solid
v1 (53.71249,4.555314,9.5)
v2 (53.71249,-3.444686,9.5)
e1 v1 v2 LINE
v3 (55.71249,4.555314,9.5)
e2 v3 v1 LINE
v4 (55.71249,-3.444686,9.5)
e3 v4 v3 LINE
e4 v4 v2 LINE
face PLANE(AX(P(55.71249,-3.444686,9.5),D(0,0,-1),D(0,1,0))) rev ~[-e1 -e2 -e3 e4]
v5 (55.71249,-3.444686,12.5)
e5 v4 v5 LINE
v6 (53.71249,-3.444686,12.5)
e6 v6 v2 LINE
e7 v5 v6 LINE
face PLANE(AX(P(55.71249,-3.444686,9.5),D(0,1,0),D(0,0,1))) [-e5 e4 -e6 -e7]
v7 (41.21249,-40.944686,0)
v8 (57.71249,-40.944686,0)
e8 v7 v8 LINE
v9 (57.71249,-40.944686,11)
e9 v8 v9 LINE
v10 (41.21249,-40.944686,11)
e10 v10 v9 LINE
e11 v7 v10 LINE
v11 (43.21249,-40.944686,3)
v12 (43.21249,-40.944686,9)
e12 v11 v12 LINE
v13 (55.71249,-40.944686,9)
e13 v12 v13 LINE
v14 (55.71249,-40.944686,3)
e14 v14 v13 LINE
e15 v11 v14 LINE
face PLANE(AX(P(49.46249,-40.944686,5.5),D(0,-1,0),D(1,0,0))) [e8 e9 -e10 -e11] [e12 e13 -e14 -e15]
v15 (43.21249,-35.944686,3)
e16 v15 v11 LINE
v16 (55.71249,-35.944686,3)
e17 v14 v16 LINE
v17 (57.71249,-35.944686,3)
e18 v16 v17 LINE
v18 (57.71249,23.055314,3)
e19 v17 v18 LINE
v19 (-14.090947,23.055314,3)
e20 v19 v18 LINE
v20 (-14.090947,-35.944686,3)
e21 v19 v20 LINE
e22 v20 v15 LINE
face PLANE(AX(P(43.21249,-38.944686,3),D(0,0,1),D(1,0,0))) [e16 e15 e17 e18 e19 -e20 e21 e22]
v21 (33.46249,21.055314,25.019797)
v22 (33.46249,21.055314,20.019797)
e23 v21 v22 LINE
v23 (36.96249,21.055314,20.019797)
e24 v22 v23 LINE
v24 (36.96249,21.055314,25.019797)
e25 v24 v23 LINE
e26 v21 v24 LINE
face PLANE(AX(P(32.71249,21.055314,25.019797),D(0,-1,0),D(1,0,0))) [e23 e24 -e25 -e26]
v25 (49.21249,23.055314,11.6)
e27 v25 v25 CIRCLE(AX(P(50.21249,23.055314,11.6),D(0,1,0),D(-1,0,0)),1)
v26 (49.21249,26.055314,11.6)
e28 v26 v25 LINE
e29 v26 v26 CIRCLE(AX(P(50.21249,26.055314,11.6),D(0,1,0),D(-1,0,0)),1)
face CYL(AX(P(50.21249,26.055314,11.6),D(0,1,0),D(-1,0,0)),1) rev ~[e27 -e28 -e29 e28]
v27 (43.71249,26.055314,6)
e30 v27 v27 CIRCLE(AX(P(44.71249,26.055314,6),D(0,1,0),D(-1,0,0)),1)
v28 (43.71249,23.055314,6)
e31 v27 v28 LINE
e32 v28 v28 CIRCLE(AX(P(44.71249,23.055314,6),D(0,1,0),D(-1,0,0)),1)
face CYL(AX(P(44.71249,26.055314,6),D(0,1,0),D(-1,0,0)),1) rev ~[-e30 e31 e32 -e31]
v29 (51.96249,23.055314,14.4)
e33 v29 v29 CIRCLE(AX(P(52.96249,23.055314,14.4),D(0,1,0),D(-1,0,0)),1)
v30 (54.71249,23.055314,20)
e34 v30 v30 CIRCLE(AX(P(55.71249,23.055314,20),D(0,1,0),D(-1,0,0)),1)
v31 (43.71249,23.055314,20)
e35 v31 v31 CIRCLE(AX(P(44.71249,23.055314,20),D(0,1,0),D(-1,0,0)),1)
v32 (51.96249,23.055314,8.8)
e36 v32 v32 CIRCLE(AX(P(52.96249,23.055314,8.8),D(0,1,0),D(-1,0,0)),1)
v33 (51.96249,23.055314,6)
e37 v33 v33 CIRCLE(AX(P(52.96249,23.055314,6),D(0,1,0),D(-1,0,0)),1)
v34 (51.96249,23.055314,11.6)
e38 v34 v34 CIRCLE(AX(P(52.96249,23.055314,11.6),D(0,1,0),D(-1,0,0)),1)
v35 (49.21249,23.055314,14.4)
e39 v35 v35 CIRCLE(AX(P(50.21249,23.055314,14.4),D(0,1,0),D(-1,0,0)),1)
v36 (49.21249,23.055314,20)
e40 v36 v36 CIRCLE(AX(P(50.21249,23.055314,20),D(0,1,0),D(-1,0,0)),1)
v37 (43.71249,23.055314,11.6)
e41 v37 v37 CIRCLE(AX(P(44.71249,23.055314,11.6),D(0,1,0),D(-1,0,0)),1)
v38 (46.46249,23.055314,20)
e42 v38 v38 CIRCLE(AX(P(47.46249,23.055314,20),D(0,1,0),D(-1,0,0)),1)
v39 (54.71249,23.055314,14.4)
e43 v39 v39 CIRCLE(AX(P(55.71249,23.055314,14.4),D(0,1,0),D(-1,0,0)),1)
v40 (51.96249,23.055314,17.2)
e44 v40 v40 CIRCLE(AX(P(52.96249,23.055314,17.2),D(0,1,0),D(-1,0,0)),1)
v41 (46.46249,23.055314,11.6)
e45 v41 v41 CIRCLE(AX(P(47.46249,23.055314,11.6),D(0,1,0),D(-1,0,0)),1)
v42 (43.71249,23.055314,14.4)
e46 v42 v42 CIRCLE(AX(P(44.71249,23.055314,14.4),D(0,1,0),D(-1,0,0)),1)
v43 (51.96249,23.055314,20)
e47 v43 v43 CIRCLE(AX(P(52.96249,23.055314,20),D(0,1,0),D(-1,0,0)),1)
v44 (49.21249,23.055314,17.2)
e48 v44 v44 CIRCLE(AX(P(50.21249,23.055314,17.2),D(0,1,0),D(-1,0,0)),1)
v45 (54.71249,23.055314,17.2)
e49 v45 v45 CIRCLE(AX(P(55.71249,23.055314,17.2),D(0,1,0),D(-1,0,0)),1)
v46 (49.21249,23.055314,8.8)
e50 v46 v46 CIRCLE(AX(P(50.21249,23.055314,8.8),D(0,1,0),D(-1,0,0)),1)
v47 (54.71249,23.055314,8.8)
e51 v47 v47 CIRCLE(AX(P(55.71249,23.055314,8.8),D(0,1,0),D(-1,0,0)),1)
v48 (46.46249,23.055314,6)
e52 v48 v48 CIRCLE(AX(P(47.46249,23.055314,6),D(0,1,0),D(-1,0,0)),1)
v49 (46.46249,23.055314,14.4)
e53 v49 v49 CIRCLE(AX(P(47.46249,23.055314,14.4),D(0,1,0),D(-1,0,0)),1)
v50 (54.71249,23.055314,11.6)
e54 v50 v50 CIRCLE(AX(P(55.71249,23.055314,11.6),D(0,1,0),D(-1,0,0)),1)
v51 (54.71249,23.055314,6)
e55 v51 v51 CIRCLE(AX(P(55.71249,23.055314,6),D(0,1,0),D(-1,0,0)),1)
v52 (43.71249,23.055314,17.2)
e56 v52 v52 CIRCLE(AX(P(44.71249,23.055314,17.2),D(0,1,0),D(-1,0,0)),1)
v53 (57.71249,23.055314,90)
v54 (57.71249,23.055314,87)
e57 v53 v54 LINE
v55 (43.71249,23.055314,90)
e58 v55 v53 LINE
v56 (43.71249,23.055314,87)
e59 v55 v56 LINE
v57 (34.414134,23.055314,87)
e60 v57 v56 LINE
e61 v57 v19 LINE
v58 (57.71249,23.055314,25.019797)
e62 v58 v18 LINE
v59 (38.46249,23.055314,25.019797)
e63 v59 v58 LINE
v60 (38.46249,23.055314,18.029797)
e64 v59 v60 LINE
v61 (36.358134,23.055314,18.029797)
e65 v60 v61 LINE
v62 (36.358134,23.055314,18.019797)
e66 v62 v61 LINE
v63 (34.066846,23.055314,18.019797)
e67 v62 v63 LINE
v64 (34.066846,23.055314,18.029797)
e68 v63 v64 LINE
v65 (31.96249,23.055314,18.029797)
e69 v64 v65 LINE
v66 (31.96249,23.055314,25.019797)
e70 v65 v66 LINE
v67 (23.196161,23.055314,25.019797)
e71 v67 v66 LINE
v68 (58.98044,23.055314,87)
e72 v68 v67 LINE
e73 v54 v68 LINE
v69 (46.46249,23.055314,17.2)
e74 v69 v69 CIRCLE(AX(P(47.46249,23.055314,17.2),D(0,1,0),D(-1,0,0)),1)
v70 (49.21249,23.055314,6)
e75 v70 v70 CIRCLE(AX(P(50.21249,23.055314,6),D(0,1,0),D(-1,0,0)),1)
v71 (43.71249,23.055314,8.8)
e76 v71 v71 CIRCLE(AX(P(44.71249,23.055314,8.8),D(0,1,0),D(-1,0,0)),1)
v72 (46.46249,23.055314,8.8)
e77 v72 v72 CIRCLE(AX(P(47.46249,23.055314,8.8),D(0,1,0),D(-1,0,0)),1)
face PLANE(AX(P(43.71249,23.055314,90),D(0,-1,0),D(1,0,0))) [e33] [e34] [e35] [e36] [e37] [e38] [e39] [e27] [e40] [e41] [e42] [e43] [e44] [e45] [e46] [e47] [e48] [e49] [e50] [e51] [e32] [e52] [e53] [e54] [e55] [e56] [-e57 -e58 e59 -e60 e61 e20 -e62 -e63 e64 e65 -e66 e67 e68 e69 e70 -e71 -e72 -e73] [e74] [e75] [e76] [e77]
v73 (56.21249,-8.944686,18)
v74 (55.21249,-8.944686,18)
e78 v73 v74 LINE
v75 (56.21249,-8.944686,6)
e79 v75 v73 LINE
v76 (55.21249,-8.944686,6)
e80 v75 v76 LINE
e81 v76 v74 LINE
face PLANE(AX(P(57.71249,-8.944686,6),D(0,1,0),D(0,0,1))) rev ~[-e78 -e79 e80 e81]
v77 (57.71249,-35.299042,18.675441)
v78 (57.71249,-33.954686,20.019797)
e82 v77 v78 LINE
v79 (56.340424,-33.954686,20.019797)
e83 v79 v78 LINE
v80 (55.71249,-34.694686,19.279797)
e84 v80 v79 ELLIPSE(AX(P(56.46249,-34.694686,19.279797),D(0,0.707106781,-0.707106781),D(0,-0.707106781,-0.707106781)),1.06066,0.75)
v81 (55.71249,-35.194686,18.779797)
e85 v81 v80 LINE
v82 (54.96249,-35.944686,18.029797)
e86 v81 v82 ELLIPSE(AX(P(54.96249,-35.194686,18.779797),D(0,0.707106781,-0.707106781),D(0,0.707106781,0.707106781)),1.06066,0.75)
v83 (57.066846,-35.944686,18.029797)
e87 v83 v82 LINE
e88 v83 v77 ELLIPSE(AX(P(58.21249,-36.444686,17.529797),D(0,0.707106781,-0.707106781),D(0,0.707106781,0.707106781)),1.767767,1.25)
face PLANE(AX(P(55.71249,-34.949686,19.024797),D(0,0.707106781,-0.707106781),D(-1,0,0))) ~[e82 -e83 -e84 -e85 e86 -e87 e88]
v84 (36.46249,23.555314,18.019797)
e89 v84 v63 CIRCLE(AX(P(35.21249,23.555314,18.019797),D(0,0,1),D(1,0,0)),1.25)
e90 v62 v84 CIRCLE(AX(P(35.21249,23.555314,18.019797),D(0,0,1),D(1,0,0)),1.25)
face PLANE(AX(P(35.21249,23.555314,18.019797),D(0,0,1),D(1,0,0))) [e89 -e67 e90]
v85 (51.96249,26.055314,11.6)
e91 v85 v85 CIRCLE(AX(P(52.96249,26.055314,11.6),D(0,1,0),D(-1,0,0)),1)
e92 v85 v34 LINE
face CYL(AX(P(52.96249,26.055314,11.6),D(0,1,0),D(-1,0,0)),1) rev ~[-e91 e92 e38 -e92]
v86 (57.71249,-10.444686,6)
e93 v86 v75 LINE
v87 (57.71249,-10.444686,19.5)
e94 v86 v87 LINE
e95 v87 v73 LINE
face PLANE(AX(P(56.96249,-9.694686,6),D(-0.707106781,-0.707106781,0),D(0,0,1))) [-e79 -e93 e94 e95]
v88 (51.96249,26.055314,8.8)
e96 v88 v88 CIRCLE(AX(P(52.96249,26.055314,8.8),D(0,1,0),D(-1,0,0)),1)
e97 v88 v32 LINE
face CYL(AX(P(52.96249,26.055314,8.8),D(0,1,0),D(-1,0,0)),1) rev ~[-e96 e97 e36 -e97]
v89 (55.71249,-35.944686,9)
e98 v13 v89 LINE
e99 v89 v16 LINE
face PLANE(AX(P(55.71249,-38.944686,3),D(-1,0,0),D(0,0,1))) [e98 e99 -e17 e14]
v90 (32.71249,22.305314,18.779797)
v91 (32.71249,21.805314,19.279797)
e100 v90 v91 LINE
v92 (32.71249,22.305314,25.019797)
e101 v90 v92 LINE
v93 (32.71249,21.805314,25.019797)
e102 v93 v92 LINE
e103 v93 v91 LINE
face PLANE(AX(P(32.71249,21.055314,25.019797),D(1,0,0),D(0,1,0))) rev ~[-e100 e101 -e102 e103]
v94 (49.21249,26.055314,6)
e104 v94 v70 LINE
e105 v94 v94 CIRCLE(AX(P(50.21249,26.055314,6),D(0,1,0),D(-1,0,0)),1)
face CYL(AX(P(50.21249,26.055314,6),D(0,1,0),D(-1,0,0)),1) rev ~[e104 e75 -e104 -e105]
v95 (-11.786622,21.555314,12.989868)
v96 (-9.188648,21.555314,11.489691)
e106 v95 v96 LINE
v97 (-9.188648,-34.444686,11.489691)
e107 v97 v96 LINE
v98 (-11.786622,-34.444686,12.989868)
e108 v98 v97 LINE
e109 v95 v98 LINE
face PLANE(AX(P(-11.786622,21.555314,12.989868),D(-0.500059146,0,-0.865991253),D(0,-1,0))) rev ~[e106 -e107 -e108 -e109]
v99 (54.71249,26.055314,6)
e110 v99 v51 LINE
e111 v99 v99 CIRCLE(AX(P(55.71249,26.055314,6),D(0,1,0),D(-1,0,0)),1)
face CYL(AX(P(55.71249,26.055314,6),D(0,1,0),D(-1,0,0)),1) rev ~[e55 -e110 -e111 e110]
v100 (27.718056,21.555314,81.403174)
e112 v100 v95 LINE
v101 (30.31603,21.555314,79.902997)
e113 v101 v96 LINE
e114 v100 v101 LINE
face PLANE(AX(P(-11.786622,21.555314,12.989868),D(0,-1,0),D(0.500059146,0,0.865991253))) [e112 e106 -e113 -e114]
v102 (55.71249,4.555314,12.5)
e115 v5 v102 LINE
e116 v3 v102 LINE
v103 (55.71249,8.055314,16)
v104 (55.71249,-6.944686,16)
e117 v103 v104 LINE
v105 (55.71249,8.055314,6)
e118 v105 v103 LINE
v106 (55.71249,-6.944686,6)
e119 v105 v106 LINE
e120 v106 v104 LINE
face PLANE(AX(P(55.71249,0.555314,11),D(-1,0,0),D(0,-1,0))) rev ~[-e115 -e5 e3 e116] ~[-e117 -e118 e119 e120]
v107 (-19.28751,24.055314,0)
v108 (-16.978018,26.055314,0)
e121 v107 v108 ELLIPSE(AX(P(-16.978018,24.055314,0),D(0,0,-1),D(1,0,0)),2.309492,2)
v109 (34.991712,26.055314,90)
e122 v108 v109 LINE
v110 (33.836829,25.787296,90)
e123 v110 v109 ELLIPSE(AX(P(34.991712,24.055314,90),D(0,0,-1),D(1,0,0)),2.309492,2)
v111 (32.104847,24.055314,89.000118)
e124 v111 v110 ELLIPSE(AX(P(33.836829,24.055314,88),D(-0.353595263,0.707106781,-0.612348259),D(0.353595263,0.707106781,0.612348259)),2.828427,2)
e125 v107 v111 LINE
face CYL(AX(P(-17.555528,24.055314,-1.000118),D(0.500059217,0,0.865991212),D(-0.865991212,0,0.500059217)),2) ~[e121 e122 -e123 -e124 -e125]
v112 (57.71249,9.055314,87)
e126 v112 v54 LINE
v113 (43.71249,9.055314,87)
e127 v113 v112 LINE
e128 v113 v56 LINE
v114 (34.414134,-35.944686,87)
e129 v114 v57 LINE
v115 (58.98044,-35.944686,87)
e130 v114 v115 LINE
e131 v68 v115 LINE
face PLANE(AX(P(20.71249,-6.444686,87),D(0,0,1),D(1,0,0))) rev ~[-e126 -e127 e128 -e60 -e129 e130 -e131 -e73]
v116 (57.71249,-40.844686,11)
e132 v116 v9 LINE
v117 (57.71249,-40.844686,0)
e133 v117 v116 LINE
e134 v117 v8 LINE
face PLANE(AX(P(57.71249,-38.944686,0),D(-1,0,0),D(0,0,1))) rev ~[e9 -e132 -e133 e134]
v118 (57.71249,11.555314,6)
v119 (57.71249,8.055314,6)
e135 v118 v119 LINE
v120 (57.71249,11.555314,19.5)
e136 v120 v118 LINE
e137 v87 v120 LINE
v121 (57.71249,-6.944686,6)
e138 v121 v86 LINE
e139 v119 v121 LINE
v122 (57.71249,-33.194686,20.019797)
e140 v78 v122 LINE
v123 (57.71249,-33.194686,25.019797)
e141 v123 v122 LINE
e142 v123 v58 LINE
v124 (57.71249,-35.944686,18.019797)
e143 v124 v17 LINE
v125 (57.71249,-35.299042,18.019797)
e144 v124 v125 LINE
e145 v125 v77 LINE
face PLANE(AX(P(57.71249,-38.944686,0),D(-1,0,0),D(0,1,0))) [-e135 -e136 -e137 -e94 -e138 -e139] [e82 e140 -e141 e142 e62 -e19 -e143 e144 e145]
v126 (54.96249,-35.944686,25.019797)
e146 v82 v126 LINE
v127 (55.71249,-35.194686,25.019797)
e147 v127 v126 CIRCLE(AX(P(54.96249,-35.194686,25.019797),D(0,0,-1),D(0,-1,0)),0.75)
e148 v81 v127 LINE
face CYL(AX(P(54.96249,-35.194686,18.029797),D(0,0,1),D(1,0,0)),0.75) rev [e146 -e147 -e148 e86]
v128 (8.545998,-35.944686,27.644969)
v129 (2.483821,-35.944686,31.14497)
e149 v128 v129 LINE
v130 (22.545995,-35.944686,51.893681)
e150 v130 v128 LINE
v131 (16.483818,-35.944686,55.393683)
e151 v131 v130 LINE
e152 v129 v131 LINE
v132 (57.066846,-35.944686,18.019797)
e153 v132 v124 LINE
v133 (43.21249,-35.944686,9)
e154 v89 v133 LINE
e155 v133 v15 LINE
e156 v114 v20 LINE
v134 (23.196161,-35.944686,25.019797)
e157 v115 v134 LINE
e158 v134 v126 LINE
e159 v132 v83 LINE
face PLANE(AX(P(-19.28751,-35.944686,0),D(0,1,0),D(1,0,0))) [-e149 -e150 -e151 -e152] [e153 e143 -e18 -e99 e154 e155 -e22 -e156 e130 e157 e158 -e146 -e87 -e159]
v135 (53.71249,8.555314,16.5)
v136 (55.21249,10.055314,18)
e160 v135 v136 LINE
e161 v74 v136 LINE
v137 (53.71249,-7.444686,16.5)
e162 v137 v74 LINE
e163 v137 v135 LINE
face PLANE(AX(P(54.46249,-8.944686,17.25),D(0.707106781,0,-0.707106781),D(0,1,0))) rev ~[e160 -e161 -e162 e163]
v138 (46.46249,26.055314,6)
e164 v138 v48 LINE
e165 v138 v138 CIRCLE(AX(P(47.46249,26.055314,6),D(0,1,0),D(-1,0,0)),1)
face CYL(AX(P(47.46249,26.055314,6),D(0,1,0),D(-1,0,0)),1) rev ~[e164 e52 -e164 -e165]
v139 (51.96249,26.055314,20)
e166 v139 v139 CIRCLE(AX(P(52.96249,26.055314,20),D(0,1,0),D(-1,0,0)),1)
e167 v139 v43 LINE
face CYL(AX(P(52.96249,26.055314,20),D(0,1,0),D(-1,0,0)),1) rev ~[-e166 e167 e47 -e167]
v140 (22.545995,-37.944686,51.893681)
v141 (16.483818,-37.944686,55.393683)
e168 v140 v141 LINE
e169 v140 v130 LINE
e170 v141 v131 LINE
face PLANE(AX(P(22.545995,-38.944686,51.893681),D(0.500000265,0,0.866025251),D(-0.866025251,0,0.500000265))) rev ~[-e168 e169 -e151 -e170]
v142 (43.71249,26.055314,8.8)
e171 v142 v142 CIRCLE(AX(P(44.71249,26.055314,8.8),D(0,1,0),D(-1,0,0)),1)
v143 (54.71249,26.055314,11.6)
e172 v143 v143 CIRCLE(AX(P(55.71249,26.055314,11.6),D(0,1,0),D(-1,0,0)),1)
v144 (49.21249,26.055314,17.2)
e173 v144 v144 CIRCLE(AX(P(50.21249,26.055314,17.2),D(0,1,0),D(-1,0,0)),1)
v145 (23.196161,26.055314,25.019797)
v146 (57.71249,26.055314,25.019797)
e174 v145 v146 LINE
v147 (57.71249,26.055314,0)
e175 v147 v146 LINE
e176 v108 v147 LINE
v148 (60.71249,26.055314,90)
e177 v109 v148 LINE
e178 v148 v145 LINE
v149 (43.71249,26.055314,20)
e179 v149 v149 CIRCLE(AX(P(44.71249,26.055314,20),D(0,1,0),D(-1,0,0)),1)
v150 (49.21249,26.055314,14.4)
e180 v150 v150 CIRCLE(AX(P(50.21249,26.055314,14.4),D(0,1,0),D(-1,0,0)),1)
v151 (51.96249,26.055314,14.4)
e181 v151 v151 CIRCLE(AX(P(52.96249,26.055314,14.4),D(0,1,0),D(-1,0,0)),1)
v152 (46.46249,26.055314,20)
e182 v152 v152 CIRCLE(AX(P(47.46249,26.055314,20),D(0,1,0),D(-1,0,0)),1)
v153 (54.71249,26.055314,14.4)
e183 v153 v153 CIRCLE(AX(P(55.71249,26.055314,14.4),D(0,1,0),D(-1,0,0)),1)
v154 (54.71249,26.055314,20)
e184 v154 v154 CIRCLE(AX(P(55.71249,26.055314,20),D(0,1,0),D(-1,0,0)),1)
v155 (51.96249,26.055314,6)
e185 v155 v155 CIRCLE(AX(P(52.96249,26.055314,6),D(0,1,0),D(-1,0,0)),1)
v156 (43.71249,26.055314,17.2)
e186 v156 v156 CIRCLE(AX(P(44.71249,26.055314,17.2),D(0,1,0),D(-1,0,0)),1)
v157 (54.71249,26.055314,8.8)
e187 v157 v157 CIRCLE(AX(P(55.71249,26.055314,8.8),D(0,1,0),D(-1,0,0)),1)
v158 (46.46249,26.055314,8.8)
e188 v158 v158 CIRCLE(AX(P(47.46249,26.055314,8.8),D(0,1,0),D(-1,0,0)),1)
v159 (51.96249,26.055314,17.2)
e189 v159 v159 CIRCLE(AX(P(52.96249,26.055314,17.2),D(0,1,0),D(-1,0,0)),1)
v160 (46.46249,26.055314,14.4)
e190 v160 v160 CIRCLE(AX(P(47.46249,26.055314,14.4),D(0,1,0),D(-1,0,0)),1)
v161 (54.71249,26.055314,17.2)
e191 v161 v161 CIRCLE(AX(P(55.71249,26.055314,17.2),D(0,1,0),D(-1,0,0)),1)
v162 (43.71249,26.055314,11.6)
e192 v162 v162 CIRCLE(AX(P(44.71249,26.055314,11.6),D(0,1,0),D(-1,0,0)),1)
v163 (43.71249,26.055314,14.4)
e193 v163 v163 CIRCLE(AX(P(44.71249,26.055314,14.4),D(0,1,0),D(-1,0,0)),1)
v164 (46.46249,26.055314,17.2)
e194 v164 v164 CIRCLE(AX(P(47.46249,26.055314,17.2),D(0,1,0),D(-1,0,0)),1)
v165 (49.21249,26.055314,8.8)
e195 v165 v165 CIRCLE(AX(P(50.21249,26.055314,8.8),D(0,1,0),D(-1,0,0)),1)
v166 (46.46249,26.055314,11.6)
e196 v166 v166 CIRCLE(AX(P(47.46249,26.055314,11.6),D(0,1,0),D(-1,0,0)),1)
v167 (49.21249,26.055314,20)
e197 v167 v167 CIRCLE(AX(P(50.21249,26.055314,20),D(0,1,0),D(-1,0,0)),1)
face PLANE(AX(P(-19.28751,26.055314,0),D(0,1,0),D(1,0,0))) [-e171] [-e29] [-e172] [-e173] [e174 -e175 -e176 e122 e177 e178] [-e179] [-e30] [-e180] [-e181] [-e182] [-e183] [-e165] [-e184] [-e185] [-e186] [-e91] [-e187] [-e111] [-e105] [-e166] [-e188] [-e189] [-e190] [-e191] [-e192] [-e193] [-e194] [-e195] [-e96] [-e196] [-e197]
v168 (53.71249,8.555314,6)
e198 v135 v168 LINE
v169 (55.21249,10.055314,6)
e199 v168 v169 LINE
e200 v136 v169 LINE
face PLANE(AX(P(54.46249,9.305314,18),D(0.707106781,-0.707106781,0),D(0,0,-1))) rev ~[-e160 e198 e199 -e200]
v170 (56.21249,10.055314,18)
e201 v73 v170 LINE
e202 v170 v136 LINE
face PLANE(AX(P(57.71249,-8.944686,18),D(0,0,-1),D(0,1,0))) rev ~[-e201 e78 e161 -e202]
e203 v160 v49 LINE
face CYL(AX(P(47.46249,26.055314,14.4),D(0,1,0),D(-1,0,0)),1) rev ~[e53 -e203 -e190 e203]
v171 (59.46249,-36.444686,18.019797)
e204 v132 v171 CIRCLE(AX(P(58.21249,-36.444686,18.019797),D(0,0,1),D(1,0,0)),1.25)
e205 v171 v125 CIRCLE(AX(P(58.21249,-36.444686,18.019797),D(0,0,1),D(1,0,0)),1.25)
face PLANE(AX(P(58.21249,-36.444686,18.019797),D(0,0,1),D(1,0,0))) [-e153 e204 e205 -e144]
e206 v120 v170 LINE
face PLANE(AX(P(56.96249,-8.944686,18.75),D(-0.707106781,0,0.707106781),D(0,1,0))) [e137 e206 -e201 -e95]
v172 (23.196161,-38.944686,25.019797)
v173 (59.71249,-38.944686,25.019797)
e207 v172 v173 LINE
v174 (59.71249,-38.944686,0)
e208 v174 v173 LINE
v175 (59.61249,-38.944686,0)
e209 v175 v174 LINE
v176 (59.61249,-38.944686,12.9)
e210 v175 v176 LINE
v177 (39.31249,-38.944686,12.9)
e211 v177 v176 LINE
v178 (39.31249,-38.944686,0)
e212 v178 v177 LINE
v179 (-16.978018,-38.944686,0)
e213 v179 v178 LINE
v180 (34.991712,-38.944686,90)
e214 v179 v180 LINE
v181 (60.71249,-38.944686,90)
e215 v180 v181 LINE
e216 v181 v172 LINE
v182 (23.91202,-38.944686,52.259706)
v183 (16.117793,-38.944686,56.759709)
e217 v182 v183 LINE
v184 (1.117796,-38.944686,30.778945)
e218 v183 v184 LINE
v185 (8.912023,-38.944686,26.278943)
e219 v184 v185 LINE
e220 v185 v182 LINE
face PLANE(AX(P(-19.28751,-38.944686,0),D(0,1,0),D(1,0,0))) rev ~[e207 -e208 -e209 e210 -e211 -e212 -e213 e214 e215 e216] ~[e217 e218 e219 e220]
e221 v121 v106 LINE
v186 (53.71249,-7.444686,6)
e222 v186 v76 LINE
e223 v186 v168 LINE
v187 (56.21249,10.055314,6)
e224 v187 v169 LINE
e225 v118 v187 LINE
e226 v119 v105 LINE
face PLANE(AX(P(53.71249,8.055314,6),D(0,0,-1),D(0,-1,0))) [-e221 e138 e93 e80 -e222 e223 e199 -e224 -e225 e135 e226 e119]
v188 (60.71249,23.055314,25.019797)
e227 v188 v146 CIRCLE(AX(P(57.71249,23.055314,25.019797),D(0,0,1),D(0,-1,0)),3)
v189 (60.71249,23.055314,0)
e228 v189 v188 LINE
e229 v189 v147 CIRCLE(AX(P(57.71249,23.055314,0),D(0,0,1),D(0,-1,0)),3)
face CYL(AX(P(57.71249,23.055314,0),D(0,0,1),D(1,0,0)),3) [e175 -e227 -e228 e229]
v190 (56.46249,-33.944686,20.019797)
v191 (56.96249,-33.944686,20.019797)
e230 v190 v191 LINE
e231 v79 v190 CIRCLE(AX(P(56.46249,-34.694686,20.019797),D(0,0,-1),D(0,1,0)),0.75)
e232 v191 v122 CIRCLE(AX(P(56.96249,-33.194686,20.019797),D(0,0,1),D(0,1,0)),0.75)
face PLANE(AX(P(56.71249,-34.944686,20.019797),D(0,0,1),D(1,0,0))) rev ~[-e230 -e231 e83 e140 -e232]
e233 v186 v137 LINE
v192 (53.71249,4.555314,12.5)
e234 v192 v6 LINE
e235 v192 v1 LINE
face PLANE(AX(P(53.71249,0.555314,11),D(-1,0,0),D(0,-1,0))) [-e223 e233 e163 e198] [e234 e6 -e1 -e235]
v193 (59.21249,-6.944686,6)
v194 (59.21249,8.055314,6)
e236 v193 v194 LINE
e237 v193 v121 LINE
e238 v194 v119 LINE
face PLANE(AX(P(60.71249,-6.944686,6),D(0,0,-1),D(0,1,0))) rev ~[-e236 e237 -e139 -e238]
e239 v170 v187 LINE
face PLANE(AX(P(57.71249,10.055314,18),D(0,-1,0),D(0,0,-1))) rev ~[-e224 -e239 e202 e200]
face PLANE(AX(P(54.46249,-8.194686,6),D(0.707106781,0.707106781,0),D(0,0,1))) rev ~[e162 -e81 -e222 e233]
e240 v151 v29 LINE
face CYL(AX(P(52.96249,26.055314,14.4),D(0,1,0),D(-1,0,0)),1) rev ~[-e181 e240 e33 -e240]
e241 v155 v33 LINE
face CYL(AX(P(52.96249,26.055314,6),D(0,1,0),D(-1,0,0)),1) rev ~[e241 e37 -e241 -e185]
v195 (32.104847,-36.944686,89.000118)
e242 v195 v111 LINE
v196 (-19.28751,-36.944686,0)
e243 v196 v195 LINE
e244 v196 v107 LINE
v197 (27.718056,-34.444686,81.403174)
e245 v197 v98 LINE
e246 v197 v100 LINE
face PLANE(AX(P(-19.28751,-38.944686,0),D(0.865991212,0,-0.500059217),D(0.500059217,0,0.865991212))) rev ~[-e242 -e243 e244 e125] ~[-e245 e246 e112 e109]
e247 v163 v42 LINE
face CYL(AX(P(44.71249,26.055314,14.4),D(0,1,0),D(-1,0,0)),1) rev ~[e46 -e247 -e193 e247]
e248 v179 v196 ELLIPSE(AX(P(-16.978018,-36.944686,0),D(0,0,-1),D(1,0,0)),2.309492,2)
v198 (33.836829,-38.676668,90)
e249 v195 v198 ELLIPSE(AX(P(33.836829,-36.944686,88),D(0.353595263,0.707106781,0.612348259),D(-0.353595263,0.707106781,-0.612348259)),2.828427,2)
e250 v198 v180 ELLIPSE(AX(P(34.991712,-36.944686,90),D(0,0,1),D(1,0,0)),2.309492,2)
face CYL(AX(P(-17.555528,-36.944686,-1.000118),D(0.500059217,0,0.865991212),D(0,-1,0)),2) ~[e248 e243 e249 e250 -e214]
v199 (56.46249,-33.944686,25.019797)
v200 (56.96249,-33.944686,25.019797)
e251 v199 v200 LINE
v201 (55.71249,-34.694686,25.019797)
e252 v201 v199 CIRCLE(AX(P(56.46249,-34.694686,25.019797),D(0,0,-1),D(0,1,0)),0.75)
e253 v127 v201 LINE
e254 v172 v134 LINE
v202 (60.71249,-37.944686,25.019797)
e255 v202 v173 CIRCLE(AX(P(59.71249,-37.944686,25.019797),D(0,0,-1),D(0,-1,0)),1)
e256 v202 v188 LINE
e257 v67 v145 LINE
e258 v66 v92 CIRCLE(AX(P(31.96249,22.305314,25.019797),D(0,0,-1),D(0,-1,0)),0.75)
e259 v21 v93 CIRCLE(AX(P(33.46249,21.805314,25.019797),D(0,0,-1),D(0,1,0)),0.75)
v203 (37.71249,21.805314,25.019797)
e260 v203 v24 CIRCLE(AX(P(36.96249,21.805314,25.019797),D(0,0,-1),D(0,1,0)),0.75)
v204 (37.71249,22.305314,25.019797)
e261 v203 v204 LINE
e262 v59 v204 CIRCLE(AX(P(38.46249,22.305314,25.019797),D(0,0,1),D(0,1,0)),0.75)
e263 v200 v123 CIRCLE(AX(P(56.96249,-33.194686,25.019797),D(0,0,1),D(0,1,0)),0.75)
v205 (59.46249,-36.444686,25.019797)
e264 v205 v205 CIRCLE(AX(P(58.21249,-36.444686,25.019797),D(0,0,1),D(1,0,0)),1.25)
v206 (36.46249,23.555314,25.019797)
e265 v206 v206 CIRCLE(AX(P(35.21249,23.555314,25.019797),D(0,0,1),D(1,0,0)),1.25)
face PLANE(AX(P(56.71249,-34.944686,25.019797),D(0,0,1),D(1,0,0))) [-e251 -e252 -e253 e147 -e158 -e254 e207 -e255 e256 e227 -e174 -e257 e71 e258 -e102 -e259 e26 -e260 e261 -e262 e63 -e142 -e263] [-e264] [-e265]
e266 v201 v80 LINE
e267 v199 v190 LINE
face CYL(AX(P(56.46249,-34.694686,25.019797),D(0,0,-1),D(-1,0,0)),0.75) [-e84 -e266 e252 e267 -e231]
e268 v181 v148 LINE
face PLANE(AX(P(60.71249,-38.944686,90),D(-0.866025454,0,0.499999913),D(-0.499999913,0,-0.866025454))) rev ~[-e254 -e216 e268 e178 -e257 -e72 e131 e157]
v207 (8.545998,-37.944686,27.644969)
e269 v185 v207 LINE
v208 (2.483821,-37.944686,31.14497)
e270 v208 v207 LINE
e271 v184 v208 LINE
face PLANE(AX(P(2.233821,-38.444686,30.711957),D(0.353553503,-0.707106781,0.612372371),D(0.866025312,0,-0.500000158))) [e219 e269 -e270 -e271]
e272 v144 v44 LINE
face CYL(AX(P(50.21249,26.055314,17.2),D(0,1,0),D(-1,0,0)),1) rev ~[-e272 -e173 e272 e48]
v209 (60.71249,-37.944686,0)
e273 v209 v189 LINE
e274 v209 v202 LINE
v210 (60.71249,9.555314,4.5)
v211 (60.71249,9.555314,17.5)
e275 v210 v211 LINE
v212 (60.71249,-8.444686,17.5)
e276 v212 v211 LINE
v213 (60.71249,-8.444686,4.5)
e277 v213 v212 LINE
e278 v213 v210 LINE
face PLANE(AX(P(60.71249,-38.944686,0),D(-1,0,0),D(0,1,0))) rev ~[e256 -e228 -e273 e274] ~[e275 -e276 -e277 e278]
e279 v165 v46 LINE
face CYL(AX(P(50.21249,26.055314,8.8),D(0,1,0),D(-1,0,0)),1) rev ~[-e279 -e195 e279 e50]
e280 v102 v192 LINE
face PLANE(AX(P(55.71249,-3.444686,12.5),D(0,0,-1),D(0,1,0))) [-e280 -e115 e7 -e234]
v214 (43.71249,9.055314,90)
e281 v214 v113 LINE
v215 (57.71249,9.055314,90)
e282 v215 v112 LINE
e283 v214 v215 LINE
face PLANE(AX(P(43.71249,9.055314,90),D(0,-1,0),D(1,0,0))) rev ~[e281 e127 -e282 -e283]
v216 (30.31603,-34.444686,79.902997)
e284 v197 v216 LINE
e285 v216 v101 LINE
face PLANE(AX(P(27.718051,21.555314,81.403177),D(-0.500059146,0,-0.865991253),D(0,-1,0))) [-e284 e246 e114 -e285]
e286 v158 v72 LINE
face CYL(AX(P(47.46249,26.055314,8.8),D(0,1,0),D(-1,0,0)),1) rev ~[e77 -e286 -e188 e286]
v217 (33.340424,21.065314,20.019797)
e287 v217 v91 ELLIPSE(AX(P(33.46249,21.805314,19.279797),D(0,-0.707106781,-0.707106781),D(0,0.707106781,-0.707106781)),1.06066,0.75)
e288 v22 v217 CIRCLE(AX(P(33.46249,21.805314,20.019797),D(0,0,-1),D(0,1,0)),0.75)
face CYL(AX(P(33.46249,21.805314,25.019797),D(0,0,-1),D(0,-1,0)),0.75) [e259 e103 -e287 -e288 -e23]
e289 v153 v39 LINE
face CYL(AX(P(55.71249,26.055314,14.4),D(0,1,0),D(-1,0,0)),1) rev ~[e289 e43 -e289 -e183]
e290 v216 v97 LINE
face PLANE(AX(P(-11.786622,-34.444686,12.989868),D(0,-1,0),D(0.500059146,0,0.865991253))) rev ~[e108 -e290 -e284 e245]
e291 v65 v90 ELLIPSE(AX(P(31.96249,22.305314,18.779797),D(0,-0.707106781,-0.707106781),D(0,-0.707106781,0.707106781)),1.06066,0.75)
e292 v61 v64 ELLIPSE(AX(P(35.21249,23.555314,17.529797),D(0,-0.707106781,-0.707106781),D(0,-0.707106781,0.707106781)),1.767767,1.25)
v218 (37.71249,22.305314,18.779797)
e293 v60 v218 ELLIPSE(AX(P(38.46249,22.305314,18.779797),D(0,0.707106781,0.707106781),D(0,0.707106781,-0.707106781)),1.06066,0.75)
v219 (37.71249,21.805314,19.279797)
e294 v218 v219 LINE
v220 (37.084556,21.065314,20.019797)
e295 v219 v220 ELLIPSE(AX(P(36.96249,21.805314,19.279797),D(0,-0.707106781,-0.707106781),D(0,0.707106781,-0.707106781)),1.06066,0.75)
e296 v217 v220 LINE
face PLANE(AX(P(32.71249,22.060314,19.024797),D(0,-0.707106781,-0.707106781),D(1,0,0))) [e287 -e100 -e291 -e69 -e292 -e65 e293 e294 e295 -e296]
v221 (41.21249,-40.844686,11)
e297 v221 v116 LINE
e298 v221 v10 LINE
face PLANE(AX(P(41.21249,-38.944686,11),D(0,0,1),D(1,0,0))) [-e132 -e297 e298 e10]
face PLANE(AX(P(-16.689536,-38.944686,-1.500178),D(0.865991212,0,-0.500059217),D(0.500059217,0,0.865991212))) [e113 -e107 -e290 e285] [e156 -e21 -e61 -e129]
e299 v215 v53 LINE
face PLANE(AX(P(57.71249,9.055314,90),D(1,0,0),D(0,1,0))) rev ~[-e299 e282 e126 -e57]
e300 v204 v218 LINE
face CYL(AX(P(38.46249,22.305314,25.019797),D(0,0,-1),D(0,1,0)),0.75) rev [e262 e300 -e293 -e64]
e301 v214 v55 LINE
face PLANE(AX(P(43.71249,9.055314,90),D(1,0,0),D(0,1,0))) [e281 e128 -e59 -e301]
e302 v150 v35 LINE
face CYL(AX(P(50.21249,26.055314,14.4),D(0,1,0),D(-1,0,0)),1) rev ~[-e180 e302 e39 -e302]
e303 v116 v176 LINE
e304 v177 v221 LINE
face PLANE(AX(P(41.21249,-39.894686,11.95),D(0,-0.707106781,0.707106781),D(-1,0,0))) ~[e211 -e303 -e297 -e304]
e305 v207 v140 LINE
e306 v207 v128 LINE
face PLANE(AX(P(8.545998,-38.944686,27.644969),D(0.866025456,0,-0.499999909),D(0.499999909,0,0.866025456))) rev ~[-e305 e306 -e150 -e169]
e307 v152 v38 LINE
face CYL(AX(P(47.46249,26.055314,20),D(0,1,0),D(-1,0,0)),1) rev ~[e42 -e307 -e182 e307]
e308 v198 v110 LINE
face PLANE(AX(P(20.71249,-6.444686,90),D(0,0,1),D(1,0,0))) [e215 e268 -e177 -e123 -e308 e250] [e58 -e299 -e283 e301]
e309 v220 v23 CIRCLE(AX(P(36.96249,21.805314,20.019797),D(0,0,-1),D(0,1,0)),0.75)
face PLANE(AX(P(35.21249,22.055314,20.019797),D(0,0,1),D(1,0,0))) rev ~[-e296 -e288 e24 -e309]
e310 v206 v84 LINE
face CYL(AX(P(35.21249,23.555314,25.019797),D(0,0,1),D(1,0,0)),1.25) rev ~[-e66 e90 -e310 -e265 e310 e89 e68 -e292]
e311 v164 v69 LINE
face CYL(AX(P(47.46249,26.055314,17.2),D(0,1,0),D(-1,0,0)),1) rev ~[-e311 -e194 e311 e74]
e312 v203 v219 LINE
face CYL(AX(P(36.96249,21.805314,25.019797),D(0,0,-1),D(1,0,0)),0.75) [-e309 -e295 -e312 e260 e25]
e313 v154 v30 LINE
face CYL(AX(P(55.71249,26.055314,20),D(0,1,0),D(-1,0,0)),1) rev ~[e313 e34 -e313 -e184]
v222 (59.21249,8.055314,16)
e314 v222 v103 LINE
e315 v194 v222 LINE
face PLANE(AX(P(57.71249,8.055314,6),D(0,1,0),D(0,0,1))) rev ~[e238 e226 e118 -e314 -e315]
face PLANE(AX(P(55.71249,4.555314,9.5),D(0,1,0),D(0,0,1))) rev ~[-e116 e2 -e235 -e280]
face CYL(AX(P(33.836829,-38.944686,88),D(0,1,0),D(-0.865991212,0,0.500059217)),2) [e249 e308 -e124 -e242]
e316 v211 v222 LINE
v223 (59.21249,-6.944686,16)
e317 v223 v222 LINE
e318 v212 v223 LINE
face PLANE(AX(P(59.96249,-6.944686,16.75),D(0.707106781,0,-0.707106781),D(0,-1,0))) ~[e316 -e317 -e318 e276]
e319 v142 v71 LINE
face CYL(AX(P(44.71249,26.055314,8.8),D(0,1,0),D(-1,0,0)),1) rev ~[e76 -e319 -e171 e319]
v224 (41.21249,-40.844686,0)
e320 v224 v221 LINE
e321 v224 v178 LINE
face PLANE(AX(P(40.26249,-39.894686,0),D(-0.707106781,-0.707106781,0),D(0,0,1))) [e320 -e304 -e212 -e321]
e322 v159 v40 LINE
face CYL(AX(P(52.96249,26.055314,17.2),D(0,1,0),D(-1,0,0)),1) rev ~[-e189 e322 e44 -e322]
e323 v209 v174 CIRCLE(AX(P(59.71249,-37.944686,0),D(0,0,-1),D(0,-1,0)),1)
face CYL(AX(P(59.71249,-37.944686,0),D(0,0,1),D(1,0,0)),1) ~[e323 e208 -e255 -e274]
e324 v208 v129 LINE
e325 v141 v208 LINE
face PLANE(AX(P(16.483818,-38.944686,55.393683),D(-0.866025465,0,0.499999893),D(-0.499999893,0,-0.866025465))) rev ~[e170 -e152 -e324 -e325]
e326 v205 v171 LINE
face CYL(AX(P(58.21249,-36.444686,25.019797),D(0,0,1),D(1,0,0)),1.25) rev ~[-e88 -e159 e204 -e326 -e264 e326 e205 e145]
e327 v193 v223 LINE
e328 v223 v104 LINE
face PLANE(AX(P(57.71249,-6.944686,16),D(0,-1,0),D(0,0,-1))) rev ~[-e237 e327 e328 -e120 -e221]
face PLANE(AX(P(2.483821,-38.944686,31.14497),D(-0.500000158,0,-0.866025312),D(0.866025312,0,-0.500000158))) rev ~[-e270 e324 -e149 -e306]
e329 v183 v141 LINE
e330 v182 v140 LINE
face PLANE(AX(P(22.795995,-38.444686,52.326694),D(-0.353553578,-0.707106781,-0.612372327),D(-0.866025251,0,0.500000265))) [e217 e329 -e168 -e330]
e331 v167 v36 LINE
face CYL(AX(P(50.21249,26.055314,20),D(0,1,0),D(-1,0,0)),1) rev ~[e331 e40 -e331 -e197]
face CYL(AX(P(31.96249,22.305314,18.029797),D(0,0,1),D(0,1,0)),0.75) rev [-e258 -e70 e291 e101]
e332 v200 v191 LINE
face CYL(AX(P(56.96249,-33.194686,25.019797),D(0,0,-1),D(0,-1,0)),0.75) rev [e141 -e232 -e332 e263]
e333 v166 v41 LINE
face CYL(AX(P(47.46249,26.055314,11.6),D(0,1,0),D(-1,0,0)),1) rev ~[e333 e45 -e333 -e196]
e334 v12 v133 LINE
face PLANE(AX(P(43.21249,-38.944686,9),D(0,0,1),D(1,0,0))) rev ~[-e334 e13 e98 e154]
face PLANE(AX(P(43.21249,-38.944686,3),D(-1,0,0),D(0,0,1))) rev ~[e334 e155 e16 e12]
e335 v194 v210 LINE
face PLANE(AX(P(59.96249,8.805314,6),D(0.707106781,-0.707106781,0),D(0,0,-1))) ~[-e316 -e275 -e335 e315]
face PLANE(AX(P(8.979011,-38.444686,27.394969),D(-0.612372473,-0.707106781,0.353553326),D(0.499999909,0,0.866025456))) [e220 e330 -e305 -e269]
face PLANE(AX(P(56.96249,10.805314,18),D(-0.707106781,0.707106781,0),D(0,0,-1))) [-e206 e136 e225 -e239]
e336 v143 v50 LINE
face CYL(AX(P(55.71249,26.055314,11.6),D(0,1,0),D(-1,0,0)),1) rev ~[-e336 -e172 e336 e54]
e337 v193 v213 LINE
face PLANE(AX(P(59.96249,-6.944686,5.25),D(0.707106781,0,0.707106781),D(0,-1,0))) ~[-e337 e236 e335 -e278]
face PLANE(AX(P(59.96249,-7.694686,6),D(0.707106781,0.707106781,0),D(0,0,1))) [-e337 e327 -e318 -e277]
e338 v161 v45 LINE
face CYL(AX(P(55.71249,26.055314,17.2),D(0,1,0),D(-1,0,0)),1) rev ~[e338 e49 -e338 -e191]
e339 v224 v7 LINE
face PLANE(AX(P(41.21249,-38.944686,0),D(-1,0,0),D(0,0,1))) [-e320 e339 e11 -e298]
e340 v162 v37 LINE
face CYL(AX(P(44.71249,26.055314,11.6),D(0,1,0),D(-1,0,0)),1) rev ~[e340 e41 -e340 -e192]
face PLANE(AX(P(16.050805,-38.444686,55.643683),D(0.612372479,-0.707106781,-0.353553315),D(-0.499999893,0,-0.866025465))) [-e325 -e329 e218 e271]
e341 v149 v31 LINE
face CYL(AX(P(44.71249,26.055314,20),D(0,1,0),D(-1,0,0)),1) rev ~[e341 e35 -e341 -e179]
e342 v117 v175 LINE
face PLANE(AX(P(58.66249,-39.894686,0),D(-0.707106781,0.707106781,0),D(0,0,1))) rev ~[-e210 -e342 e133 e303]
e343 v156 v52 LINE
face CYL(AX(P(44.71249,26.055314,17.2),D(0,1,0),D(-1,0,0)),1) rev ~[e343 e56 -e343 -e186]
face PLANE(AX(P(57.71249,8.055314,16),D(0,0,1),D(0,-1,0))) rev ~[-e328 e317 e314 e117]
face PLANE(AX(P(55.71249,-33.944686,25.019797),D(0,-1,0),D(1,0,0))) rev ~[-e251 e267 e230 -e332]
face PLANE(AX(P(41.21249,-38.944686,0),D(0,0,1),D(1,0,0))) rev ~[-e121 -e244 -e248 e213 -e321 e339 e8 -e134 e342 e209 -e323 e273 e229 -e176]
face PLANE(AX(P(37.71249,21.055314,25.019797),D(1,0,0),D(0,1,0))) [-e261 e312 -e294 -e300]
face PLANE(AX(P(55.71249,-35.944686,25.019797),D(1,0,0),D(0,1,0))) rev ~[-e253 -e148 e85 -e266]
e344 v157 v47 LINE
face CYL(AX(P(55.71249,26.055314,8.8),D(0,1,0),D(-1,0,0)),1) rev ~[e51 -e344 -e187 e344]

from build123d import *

# Parameters (mm, degrees)
SKETCH_W                        = 80
SKETCH_H                        = 65
PAD_DEPTH                       = 90
POCKET_DEPTH                    = 65
THICKNESS_T                     = -3
SKETCH002_W                     = 56
SKETCH002_H                     = 79
POCKET001_DEPTH                 = 5
SKETCH003_W                     = 14
SKETCH003_H                     = 14
POCKET002_DEPTH                 = 5
POCKET003_DEPTH                 = 5
SKETCH005_R                     = 1
POCKET004_DEPTH                 = 5
SKETCH005_LINEARPATTERN_2_R     = 1
POCKET004_LINEARPATTERN_2_DEPTH = 5
SKETCH005_LINEARPATTERN_3_R     = 1
POCKET004_LINEARPATTERN_3_DEPTH = 5
SKETCH005_LINEARPATTERN_4_R     = 1
POCKET004_LINEARPATTERN_4_DEPTH = 5
SKETCH005_LINEARPATTERN_5_R     = 1
POCKET004_LINEARPATTERN_5_DEPTH = 5
LINEARPATTERN001_COUNT          = 6
LINEARPATTERN001_PITCH          = 2.8
SKETCH006_W                     = 15
SKETCH006_H                     = 10
POCKET005_DEPTH                 = 5
SKETCH007_W                     = 12.5
SKETCH007_H                     = 6
POCKET006_DEPTH                 = 5
PAD001_DEPTH                    = 4
SKETCH009_W                     = 15
SKETCH009_H                     = 10
PAD002_DEPTH                    = 2
SKETCH010_W                     = 8
SKETCH010_H                     = 3
POCKET007_DEPTH                 = 5
CHAMFER_SIZE                    = 1.5
CHAMFER001_SIZE                 = 1.5
CHAMFER002_SIZE                 = 1.5
SKETCH011_W                     = 16.5
SKETCH011_H                     = 11
SKETCH011_W_2                   = 12.5
SKETCH011_H_2                   = 6
PAD003_DEPTH                    = 2
CHAMFER003_SIZE                 = 1.9
CHAMFER004_SIZE                 = 1
FILLET_R                        = 2
FILLET001_R                     = 3
FILLET002_R                     = 1
SKETCH012_W                     = 2
SKETCH012_H                     = 2
SKETCH012_W_2                   = 5
PAD004_DEPTH                    = 5
CHAMFER005_SIZE                 = 1.99
SKETCH013_R                     = 1.25
POCKET008_DEPTH                 = 7
FILLET003_R                     = 0.75


with BuildPart() as part:
    # Sketch → Pad (new body)
    with BuildSketch(Plane.XY):
        with Locations((20.71249, -6.444686)):
            Rectangle(SKETCH_W, SKETCH_H)
    extrude(amount=PAD_DEPTH)

    # Sketch001 (on Face2 of Pad) → Pocket (cut)
    with BuildSketch(Plane.XZ.offset(38.944686)):
        Polygon((-19.28751, 0), (32.68222, 90), (-19.28751, 90), align=None)
        Polygon((60.71249, 90), (23.196161, 25.019797), (60.71249, 25.019797), align=None)
    extrude(amount=-POCKET_DEPTH, mode=Mode.SUBTRACT)

    # Thickness
    thickness_openings = [part.faces().sort_by_distance(p)[0] for p in [
        (41.954326, -6.444686, 57.509898),
        (41.954326, -6.444686, 25.019797),
    ]]
    offset(amount=THICKNESS_T, openings=thickness_openings)

    # Sketch002 → Pocket001 (cut)
    with BuildSketch(Plane(origin=(-14.46449, 0, 8.352396), x_dir=(0, -1, 0), z_dir=(-0.865991, 0, 0.500059))):
        with Locations((6.444686, 44.855103)):
            Rectangle(SKETCH002_W, SKETCH002_H)
    extrude(amount=-POCKET001_DEPTH, mode=Mode.SUBTRACT)

    # Sketch003 (on Face6 of Pocket001) → Pocket002 (cut)
    with BuildSketch(Plane.XY.offset(90)):
        with Locations((50.71249, 16.055314)):
            Rectangle(SKETCH003_W, SKETCH003_H)
    extrude(amount=-POCKET002_DEPTH, mode=Mode.SUBTRACT)

    # Sketch004 (on Face3 of Pocket002) → Pocket003 (cut)
    with BuildSketch(Plane.XZ.offset(38.944686)):
        Polygon((16.483818, 55.393683), (2.483821, 31.14497), (8.545998, 27.644969), (22.545995, 51.893681), align=None)
    extrude(amount=-POCKET003_DEPTH, mode=Mode.SUBTRACT)

    # Sketch005 (on Face5 of Pocket002) → Pocket004 (cut)
    with BuildSketch(Plane(origin=(0, 26.055314, 0), x_dir=(-1, 0, 0), z_dir=(0, 1, 0))):
        with Locations((-55.71249, 20)):
            Circle(SKETCH005_R)
    pocket004 = extrude(amount=-POCKET004_DEPTH, mode=Mode.SUBTRACT)

    # Sketch005 LinearPattern 2 → Pocket004 LinearPattern 2 (cut)
    with BuildSketch(Plane(origin=(-2.75, 26.055314, 0), x_dir=(-1, 0, 0), z_dir=(0, 1, 0))):
        with Locations((-55.71249, 20)):
            Circle(SKETCH005_LINEARPATTERN_2_R)
    pocket004_linearpattern_2 = extrude(amount=-POCKET004_LINEARPATTERN_2_DEPTH, mode=Mode.SUBTRACT)

    # Sketch005 LinearPattern 3 → Pocket004 LinearPattern 3 (cut)
    with BuildSketch(Plane(origin=(-5.5, 26.055314, 0), x_dir=(-1, 0, 0), z_dir=(0, 1, 0))):
        with Locations((-55.71249, 20)):
            Circle(SKETCH005_LINEARPATTERN_3_R)
    pocket004_linearpattern_3 = extrude(amount=-POCKET004_LINEARPATTERN_3_DEPTH, mode=Mode.SUBTRACT)

    # Sketch005 LinearPattern 4 → Pocket004 LinearPattern 4 (cut)
    with BuildSketch(Plane(origin=(-8.25, 26.055314, 0), x_dir=(-1, 0, 0), z_dir=(0, 1, 0))):
        with Locations((-55.71249, 20)):
            Circle(SKETCH005_LINEARPATTERN_4_R)
    pocket004_linearpattern_4 = extrude(amount=-POCKET004_LINEARPATTERN_4_DEPTH, mode=Mode.SUBTRACT)

    # Sketch005 LinearPattern 5 → Pocket004 LinearPattern 5 (cut)
    with BuildSketch(Plane(origin=(-11, 26.055314, 0), x_dir=(-1, 0, 0), z_dir=(0, 1, 0))):
        with Locations((-55.71249, 20)):
            Circle(SKETCH005_LINEARPATTERN_5_R)
    pocket004_linearpattern_5 = extrude(amount=-POCKET004_LINEARPATTERN_5_DEPTH, mode=Mode.SUBTRACT)

    # LinearPattern001: Pocket004, Pocket004 LinearPattern 2, Pocket004 LinearPattern 3, Pocket004 LinearPattern 4, Pocket004 LinearPattern 5 ×6
    with Locations(*[(0, 0, -i * LINEARPATTERN001_PITCH) for i in range(1, LINEARPATTERN001_COUNT)]):
        add(pocket004, mode=Mode.SUBTRACT)
        add(pocket004_linearpattern_2, mode=Mode.SUBTRACT)
        add(pocket004_linearpattern_3, mode=Mode.SUBTRACT)
        add(pocket004_linearpattern_4, mode=Mode.SUBTRACT)
        add(pocket004_linearpattern_5, mode=Mode.SUBTRACT)

    # Sketch006 (on Face4 of MultiTransform) → Pocket005 (cut)
    with BuildSketch(Plane.YZ.offset(60.71249)):
        with Locations((0.555314, 11)):
            Rectangle(SKETCH006_W, SKETCH006_H)
    extrude(amount=-POCKET005_DEPTH, mode=Mode.SUBTRACT)

    # Sketch007 (on Face3 of Pocket005) → Pocket006 (cut)
    with BuildSketch(Plane.XZ.offset(38.944686)):
        with Locations((49.46249, 6)):
            Rectangle(SKETCH007_W, SKETCH007_H)
    extrude(amount=-POCKET006_DEPTH, mode=Mode.SUBTRACT)

    # Sketch008 (on Face60 of Pocket006) → Pad001 (join)
    with BuildSketch(Plane(origin=(57.71249, 0, 0), x_dir=(0, -1, 0), z_dir=(-1, 0, 0))):
        Polygon((-10.055314, 18), (-10.055314, 6), (-8.055314, 6), (-8.055314, 16), (6.944686, 16), (6.944686, 6), (8.944686, 6), (8.944686, 18), align=None)
    extrude(amount=PAD001_DEPTH)

    # Sketch009 (on Face65 of Pad001) → Pad002 (join)
    with BuildSketch(Plane(origin=(53.71249, 0, 0), x_dir=(0, -1, 0), z_dir=(-1, 0, 0))):
        with Locations((-0.555314, 11)):
            Rectangle(SKETCH009_W, SKETCH009_H)
    extrude(amount=-PAD002_DEPTH)

    # Sketch010 (on Face63 of Pad002) → Pocket007 (cut)
    with BuildSketch(Plane.YZ.offset(55.71249)):
        with Locations((0.555314, 11)):
            Rectangle(SKETCH010_W, SKETCH010_H)
    extrude(amount=-POCKET007_DEPTH, mode=Mode.SUBTRACT)

    # Chamfer
    chamfer_edges = [part.edges().sort_by_distance(p)[0] for p in [
        (60.71249, 0.555314, 16),
        (60.71249, -6.944686, 11),
        (60.71249, 8.055314, 11),
        (60.71249, 0.555314, 6),
    ]]
    chamfer(chamfer_edges, length=CHAMFER_SIZE)

    # Chamfer001
    chamfer001_edges = [part.edges().sort_by_distance(p)[0] for p in [
        (57.71249, 0.555314, 18),
        (57.71249, -8.944686, 12),
        (57.71249, 10.055314, 12),
    ]]
    chamfer(chamfer001_edges, length=CHAMFER001_SIZE)

    # Chamfer002
    chamfer002_edges = [part.edges().sort_by_distance(p)[0] for p in [
        (53.71249, 10.055314, 12),
        (53.71249, -8.944686, 12),
        (53.71249, 0.555314, 18),
    ]]
    chamfer(chamfer002_edges, length=CHAMFER002_SIZE)

    # Sketch011 (on Face32 of Chamfer002) → Pad003 (join)
    with BuildSketch(Plane.XZ.offset(38.944686)):
        with Locations((49.46249, 5.5)):
            Rectangle(SKETCH011_W, SKETCH011_H)
        with Locations((49.46249, 6)):
            Rectangle(SKETCH011_W_2, SKETCH011_H_2, mode=Mode.SUBTRACT)
    extrude(amount=PAD003_DEPTH)

    # Chamfer003
    chamfer003_edges = [part.edges().sort_by_distance(p)[0] for p in [
        (57.71249, -38.944686, 5.5),
        (49.46249, -38.944686, 11),
        (41.21249, -38.944686, 5.5),
    ]]
    chamfer(chamfer003_edges, length=CHAMFER003_SIZE)

    # Chamfer004
    chamfer004_edges = [part.edges().sort_by_distance(p)[0] for p in [
        (19.514907, -38.944686, 53.643682),
        (9.48382, -38.944686, 43.269326),
        (15.545997, -38.944686, 39.769325),
        (5.514909, -38.944686, 29.394969),
    ]]
    chamfer(chamfer004_edges, length=CHAMFER004_SIZE)

    # Fillet
    fillet_edges = [part.edges().sort_by_distance(p)[0] for p in [
        (6.697355, 26.055314, 45),
        (32.68222, -6.444686, 90),
        (6.697355, -38.944686, 45),
    ]]
    fillet(fillet_edges, radius=FILLET_R)

    # Fillet001
    fillet001_edges = [part.edges().sort_by_distance(p)[0] for p in [
        (60.71249, 26.055314, 12.509898),
    ]]
    fillet(fillet001_edges, radius=FILLET001_R)

    # Fillet002
    fillet002_edges = [part.edges().sort_by_distance(p)[0] for p in [
        (60.71249, -38.944686, 12.509898),
    ]]
    fillet(fillet002_edges, radius=FILLET002_R)

    # Sketch012 → Pad004 (join)
    with BuildSketch(Plane.XY.offset(25.019797)):
        with Locations((56.71249, -34.944686)):
            Rectangle(SKETCH012_W, SKETCH012_H)
        with Locations((35.21249, 22.055314)):
            Rectangle(SKETCH012_W_2, SKETCH012_H)
    extrude(amount=-PAD004_DEPTH)

    # Chamfer005
    chamfer005_edges = [part.edges().sort_by_distance(p)[0] for p in [
        (35.21249, 23.055314, 20.019797),
        (56.71249, -35.944686, 20.019797),
    ]]
    chamfer(chamfer005_edges, length=CHAMFER005_SIZE)

    # Sketch013 (on Face8 of Chamfer005) → Pocket008 (cut)
    with BuildSketch(Plane.XY.offset(25.019797)):
        with Locations((58.21249, -36.444686)):
            Circle(SKETCH013_R)
        with Locations((35.21249, 23.555314)):
            Circle(SKETCH013_R)
    extrude(amount=-POCKET008_DEPTH, mode=Mode.SUBTRACT)

    # Fillet003
    fillet003_edges = [part.edges().sort_by_distance(p)[0] for p in [
        (37.71249, 21.055314, 22.519797),
        (37.71249, 23.055314, 22.519797),
        (37.71249, 23.055314, 19.024797),
        (32.71249, 21.055314, 22.519797),
        (32.71249, 23.055314, 22.519797),
        (32.71249, 23.055314, 19.024797),
        (55.71249, -33.944686, 22.519797),
        (57.71249, -33.944686, 22.519797),
        (55.71249, -35.944686, 22.519797),
        (55.71249, -35.944686, 19.024797),
    ]]
    fillet(fillet003_edges, radius=FILLET003_R)


solid = part.part
